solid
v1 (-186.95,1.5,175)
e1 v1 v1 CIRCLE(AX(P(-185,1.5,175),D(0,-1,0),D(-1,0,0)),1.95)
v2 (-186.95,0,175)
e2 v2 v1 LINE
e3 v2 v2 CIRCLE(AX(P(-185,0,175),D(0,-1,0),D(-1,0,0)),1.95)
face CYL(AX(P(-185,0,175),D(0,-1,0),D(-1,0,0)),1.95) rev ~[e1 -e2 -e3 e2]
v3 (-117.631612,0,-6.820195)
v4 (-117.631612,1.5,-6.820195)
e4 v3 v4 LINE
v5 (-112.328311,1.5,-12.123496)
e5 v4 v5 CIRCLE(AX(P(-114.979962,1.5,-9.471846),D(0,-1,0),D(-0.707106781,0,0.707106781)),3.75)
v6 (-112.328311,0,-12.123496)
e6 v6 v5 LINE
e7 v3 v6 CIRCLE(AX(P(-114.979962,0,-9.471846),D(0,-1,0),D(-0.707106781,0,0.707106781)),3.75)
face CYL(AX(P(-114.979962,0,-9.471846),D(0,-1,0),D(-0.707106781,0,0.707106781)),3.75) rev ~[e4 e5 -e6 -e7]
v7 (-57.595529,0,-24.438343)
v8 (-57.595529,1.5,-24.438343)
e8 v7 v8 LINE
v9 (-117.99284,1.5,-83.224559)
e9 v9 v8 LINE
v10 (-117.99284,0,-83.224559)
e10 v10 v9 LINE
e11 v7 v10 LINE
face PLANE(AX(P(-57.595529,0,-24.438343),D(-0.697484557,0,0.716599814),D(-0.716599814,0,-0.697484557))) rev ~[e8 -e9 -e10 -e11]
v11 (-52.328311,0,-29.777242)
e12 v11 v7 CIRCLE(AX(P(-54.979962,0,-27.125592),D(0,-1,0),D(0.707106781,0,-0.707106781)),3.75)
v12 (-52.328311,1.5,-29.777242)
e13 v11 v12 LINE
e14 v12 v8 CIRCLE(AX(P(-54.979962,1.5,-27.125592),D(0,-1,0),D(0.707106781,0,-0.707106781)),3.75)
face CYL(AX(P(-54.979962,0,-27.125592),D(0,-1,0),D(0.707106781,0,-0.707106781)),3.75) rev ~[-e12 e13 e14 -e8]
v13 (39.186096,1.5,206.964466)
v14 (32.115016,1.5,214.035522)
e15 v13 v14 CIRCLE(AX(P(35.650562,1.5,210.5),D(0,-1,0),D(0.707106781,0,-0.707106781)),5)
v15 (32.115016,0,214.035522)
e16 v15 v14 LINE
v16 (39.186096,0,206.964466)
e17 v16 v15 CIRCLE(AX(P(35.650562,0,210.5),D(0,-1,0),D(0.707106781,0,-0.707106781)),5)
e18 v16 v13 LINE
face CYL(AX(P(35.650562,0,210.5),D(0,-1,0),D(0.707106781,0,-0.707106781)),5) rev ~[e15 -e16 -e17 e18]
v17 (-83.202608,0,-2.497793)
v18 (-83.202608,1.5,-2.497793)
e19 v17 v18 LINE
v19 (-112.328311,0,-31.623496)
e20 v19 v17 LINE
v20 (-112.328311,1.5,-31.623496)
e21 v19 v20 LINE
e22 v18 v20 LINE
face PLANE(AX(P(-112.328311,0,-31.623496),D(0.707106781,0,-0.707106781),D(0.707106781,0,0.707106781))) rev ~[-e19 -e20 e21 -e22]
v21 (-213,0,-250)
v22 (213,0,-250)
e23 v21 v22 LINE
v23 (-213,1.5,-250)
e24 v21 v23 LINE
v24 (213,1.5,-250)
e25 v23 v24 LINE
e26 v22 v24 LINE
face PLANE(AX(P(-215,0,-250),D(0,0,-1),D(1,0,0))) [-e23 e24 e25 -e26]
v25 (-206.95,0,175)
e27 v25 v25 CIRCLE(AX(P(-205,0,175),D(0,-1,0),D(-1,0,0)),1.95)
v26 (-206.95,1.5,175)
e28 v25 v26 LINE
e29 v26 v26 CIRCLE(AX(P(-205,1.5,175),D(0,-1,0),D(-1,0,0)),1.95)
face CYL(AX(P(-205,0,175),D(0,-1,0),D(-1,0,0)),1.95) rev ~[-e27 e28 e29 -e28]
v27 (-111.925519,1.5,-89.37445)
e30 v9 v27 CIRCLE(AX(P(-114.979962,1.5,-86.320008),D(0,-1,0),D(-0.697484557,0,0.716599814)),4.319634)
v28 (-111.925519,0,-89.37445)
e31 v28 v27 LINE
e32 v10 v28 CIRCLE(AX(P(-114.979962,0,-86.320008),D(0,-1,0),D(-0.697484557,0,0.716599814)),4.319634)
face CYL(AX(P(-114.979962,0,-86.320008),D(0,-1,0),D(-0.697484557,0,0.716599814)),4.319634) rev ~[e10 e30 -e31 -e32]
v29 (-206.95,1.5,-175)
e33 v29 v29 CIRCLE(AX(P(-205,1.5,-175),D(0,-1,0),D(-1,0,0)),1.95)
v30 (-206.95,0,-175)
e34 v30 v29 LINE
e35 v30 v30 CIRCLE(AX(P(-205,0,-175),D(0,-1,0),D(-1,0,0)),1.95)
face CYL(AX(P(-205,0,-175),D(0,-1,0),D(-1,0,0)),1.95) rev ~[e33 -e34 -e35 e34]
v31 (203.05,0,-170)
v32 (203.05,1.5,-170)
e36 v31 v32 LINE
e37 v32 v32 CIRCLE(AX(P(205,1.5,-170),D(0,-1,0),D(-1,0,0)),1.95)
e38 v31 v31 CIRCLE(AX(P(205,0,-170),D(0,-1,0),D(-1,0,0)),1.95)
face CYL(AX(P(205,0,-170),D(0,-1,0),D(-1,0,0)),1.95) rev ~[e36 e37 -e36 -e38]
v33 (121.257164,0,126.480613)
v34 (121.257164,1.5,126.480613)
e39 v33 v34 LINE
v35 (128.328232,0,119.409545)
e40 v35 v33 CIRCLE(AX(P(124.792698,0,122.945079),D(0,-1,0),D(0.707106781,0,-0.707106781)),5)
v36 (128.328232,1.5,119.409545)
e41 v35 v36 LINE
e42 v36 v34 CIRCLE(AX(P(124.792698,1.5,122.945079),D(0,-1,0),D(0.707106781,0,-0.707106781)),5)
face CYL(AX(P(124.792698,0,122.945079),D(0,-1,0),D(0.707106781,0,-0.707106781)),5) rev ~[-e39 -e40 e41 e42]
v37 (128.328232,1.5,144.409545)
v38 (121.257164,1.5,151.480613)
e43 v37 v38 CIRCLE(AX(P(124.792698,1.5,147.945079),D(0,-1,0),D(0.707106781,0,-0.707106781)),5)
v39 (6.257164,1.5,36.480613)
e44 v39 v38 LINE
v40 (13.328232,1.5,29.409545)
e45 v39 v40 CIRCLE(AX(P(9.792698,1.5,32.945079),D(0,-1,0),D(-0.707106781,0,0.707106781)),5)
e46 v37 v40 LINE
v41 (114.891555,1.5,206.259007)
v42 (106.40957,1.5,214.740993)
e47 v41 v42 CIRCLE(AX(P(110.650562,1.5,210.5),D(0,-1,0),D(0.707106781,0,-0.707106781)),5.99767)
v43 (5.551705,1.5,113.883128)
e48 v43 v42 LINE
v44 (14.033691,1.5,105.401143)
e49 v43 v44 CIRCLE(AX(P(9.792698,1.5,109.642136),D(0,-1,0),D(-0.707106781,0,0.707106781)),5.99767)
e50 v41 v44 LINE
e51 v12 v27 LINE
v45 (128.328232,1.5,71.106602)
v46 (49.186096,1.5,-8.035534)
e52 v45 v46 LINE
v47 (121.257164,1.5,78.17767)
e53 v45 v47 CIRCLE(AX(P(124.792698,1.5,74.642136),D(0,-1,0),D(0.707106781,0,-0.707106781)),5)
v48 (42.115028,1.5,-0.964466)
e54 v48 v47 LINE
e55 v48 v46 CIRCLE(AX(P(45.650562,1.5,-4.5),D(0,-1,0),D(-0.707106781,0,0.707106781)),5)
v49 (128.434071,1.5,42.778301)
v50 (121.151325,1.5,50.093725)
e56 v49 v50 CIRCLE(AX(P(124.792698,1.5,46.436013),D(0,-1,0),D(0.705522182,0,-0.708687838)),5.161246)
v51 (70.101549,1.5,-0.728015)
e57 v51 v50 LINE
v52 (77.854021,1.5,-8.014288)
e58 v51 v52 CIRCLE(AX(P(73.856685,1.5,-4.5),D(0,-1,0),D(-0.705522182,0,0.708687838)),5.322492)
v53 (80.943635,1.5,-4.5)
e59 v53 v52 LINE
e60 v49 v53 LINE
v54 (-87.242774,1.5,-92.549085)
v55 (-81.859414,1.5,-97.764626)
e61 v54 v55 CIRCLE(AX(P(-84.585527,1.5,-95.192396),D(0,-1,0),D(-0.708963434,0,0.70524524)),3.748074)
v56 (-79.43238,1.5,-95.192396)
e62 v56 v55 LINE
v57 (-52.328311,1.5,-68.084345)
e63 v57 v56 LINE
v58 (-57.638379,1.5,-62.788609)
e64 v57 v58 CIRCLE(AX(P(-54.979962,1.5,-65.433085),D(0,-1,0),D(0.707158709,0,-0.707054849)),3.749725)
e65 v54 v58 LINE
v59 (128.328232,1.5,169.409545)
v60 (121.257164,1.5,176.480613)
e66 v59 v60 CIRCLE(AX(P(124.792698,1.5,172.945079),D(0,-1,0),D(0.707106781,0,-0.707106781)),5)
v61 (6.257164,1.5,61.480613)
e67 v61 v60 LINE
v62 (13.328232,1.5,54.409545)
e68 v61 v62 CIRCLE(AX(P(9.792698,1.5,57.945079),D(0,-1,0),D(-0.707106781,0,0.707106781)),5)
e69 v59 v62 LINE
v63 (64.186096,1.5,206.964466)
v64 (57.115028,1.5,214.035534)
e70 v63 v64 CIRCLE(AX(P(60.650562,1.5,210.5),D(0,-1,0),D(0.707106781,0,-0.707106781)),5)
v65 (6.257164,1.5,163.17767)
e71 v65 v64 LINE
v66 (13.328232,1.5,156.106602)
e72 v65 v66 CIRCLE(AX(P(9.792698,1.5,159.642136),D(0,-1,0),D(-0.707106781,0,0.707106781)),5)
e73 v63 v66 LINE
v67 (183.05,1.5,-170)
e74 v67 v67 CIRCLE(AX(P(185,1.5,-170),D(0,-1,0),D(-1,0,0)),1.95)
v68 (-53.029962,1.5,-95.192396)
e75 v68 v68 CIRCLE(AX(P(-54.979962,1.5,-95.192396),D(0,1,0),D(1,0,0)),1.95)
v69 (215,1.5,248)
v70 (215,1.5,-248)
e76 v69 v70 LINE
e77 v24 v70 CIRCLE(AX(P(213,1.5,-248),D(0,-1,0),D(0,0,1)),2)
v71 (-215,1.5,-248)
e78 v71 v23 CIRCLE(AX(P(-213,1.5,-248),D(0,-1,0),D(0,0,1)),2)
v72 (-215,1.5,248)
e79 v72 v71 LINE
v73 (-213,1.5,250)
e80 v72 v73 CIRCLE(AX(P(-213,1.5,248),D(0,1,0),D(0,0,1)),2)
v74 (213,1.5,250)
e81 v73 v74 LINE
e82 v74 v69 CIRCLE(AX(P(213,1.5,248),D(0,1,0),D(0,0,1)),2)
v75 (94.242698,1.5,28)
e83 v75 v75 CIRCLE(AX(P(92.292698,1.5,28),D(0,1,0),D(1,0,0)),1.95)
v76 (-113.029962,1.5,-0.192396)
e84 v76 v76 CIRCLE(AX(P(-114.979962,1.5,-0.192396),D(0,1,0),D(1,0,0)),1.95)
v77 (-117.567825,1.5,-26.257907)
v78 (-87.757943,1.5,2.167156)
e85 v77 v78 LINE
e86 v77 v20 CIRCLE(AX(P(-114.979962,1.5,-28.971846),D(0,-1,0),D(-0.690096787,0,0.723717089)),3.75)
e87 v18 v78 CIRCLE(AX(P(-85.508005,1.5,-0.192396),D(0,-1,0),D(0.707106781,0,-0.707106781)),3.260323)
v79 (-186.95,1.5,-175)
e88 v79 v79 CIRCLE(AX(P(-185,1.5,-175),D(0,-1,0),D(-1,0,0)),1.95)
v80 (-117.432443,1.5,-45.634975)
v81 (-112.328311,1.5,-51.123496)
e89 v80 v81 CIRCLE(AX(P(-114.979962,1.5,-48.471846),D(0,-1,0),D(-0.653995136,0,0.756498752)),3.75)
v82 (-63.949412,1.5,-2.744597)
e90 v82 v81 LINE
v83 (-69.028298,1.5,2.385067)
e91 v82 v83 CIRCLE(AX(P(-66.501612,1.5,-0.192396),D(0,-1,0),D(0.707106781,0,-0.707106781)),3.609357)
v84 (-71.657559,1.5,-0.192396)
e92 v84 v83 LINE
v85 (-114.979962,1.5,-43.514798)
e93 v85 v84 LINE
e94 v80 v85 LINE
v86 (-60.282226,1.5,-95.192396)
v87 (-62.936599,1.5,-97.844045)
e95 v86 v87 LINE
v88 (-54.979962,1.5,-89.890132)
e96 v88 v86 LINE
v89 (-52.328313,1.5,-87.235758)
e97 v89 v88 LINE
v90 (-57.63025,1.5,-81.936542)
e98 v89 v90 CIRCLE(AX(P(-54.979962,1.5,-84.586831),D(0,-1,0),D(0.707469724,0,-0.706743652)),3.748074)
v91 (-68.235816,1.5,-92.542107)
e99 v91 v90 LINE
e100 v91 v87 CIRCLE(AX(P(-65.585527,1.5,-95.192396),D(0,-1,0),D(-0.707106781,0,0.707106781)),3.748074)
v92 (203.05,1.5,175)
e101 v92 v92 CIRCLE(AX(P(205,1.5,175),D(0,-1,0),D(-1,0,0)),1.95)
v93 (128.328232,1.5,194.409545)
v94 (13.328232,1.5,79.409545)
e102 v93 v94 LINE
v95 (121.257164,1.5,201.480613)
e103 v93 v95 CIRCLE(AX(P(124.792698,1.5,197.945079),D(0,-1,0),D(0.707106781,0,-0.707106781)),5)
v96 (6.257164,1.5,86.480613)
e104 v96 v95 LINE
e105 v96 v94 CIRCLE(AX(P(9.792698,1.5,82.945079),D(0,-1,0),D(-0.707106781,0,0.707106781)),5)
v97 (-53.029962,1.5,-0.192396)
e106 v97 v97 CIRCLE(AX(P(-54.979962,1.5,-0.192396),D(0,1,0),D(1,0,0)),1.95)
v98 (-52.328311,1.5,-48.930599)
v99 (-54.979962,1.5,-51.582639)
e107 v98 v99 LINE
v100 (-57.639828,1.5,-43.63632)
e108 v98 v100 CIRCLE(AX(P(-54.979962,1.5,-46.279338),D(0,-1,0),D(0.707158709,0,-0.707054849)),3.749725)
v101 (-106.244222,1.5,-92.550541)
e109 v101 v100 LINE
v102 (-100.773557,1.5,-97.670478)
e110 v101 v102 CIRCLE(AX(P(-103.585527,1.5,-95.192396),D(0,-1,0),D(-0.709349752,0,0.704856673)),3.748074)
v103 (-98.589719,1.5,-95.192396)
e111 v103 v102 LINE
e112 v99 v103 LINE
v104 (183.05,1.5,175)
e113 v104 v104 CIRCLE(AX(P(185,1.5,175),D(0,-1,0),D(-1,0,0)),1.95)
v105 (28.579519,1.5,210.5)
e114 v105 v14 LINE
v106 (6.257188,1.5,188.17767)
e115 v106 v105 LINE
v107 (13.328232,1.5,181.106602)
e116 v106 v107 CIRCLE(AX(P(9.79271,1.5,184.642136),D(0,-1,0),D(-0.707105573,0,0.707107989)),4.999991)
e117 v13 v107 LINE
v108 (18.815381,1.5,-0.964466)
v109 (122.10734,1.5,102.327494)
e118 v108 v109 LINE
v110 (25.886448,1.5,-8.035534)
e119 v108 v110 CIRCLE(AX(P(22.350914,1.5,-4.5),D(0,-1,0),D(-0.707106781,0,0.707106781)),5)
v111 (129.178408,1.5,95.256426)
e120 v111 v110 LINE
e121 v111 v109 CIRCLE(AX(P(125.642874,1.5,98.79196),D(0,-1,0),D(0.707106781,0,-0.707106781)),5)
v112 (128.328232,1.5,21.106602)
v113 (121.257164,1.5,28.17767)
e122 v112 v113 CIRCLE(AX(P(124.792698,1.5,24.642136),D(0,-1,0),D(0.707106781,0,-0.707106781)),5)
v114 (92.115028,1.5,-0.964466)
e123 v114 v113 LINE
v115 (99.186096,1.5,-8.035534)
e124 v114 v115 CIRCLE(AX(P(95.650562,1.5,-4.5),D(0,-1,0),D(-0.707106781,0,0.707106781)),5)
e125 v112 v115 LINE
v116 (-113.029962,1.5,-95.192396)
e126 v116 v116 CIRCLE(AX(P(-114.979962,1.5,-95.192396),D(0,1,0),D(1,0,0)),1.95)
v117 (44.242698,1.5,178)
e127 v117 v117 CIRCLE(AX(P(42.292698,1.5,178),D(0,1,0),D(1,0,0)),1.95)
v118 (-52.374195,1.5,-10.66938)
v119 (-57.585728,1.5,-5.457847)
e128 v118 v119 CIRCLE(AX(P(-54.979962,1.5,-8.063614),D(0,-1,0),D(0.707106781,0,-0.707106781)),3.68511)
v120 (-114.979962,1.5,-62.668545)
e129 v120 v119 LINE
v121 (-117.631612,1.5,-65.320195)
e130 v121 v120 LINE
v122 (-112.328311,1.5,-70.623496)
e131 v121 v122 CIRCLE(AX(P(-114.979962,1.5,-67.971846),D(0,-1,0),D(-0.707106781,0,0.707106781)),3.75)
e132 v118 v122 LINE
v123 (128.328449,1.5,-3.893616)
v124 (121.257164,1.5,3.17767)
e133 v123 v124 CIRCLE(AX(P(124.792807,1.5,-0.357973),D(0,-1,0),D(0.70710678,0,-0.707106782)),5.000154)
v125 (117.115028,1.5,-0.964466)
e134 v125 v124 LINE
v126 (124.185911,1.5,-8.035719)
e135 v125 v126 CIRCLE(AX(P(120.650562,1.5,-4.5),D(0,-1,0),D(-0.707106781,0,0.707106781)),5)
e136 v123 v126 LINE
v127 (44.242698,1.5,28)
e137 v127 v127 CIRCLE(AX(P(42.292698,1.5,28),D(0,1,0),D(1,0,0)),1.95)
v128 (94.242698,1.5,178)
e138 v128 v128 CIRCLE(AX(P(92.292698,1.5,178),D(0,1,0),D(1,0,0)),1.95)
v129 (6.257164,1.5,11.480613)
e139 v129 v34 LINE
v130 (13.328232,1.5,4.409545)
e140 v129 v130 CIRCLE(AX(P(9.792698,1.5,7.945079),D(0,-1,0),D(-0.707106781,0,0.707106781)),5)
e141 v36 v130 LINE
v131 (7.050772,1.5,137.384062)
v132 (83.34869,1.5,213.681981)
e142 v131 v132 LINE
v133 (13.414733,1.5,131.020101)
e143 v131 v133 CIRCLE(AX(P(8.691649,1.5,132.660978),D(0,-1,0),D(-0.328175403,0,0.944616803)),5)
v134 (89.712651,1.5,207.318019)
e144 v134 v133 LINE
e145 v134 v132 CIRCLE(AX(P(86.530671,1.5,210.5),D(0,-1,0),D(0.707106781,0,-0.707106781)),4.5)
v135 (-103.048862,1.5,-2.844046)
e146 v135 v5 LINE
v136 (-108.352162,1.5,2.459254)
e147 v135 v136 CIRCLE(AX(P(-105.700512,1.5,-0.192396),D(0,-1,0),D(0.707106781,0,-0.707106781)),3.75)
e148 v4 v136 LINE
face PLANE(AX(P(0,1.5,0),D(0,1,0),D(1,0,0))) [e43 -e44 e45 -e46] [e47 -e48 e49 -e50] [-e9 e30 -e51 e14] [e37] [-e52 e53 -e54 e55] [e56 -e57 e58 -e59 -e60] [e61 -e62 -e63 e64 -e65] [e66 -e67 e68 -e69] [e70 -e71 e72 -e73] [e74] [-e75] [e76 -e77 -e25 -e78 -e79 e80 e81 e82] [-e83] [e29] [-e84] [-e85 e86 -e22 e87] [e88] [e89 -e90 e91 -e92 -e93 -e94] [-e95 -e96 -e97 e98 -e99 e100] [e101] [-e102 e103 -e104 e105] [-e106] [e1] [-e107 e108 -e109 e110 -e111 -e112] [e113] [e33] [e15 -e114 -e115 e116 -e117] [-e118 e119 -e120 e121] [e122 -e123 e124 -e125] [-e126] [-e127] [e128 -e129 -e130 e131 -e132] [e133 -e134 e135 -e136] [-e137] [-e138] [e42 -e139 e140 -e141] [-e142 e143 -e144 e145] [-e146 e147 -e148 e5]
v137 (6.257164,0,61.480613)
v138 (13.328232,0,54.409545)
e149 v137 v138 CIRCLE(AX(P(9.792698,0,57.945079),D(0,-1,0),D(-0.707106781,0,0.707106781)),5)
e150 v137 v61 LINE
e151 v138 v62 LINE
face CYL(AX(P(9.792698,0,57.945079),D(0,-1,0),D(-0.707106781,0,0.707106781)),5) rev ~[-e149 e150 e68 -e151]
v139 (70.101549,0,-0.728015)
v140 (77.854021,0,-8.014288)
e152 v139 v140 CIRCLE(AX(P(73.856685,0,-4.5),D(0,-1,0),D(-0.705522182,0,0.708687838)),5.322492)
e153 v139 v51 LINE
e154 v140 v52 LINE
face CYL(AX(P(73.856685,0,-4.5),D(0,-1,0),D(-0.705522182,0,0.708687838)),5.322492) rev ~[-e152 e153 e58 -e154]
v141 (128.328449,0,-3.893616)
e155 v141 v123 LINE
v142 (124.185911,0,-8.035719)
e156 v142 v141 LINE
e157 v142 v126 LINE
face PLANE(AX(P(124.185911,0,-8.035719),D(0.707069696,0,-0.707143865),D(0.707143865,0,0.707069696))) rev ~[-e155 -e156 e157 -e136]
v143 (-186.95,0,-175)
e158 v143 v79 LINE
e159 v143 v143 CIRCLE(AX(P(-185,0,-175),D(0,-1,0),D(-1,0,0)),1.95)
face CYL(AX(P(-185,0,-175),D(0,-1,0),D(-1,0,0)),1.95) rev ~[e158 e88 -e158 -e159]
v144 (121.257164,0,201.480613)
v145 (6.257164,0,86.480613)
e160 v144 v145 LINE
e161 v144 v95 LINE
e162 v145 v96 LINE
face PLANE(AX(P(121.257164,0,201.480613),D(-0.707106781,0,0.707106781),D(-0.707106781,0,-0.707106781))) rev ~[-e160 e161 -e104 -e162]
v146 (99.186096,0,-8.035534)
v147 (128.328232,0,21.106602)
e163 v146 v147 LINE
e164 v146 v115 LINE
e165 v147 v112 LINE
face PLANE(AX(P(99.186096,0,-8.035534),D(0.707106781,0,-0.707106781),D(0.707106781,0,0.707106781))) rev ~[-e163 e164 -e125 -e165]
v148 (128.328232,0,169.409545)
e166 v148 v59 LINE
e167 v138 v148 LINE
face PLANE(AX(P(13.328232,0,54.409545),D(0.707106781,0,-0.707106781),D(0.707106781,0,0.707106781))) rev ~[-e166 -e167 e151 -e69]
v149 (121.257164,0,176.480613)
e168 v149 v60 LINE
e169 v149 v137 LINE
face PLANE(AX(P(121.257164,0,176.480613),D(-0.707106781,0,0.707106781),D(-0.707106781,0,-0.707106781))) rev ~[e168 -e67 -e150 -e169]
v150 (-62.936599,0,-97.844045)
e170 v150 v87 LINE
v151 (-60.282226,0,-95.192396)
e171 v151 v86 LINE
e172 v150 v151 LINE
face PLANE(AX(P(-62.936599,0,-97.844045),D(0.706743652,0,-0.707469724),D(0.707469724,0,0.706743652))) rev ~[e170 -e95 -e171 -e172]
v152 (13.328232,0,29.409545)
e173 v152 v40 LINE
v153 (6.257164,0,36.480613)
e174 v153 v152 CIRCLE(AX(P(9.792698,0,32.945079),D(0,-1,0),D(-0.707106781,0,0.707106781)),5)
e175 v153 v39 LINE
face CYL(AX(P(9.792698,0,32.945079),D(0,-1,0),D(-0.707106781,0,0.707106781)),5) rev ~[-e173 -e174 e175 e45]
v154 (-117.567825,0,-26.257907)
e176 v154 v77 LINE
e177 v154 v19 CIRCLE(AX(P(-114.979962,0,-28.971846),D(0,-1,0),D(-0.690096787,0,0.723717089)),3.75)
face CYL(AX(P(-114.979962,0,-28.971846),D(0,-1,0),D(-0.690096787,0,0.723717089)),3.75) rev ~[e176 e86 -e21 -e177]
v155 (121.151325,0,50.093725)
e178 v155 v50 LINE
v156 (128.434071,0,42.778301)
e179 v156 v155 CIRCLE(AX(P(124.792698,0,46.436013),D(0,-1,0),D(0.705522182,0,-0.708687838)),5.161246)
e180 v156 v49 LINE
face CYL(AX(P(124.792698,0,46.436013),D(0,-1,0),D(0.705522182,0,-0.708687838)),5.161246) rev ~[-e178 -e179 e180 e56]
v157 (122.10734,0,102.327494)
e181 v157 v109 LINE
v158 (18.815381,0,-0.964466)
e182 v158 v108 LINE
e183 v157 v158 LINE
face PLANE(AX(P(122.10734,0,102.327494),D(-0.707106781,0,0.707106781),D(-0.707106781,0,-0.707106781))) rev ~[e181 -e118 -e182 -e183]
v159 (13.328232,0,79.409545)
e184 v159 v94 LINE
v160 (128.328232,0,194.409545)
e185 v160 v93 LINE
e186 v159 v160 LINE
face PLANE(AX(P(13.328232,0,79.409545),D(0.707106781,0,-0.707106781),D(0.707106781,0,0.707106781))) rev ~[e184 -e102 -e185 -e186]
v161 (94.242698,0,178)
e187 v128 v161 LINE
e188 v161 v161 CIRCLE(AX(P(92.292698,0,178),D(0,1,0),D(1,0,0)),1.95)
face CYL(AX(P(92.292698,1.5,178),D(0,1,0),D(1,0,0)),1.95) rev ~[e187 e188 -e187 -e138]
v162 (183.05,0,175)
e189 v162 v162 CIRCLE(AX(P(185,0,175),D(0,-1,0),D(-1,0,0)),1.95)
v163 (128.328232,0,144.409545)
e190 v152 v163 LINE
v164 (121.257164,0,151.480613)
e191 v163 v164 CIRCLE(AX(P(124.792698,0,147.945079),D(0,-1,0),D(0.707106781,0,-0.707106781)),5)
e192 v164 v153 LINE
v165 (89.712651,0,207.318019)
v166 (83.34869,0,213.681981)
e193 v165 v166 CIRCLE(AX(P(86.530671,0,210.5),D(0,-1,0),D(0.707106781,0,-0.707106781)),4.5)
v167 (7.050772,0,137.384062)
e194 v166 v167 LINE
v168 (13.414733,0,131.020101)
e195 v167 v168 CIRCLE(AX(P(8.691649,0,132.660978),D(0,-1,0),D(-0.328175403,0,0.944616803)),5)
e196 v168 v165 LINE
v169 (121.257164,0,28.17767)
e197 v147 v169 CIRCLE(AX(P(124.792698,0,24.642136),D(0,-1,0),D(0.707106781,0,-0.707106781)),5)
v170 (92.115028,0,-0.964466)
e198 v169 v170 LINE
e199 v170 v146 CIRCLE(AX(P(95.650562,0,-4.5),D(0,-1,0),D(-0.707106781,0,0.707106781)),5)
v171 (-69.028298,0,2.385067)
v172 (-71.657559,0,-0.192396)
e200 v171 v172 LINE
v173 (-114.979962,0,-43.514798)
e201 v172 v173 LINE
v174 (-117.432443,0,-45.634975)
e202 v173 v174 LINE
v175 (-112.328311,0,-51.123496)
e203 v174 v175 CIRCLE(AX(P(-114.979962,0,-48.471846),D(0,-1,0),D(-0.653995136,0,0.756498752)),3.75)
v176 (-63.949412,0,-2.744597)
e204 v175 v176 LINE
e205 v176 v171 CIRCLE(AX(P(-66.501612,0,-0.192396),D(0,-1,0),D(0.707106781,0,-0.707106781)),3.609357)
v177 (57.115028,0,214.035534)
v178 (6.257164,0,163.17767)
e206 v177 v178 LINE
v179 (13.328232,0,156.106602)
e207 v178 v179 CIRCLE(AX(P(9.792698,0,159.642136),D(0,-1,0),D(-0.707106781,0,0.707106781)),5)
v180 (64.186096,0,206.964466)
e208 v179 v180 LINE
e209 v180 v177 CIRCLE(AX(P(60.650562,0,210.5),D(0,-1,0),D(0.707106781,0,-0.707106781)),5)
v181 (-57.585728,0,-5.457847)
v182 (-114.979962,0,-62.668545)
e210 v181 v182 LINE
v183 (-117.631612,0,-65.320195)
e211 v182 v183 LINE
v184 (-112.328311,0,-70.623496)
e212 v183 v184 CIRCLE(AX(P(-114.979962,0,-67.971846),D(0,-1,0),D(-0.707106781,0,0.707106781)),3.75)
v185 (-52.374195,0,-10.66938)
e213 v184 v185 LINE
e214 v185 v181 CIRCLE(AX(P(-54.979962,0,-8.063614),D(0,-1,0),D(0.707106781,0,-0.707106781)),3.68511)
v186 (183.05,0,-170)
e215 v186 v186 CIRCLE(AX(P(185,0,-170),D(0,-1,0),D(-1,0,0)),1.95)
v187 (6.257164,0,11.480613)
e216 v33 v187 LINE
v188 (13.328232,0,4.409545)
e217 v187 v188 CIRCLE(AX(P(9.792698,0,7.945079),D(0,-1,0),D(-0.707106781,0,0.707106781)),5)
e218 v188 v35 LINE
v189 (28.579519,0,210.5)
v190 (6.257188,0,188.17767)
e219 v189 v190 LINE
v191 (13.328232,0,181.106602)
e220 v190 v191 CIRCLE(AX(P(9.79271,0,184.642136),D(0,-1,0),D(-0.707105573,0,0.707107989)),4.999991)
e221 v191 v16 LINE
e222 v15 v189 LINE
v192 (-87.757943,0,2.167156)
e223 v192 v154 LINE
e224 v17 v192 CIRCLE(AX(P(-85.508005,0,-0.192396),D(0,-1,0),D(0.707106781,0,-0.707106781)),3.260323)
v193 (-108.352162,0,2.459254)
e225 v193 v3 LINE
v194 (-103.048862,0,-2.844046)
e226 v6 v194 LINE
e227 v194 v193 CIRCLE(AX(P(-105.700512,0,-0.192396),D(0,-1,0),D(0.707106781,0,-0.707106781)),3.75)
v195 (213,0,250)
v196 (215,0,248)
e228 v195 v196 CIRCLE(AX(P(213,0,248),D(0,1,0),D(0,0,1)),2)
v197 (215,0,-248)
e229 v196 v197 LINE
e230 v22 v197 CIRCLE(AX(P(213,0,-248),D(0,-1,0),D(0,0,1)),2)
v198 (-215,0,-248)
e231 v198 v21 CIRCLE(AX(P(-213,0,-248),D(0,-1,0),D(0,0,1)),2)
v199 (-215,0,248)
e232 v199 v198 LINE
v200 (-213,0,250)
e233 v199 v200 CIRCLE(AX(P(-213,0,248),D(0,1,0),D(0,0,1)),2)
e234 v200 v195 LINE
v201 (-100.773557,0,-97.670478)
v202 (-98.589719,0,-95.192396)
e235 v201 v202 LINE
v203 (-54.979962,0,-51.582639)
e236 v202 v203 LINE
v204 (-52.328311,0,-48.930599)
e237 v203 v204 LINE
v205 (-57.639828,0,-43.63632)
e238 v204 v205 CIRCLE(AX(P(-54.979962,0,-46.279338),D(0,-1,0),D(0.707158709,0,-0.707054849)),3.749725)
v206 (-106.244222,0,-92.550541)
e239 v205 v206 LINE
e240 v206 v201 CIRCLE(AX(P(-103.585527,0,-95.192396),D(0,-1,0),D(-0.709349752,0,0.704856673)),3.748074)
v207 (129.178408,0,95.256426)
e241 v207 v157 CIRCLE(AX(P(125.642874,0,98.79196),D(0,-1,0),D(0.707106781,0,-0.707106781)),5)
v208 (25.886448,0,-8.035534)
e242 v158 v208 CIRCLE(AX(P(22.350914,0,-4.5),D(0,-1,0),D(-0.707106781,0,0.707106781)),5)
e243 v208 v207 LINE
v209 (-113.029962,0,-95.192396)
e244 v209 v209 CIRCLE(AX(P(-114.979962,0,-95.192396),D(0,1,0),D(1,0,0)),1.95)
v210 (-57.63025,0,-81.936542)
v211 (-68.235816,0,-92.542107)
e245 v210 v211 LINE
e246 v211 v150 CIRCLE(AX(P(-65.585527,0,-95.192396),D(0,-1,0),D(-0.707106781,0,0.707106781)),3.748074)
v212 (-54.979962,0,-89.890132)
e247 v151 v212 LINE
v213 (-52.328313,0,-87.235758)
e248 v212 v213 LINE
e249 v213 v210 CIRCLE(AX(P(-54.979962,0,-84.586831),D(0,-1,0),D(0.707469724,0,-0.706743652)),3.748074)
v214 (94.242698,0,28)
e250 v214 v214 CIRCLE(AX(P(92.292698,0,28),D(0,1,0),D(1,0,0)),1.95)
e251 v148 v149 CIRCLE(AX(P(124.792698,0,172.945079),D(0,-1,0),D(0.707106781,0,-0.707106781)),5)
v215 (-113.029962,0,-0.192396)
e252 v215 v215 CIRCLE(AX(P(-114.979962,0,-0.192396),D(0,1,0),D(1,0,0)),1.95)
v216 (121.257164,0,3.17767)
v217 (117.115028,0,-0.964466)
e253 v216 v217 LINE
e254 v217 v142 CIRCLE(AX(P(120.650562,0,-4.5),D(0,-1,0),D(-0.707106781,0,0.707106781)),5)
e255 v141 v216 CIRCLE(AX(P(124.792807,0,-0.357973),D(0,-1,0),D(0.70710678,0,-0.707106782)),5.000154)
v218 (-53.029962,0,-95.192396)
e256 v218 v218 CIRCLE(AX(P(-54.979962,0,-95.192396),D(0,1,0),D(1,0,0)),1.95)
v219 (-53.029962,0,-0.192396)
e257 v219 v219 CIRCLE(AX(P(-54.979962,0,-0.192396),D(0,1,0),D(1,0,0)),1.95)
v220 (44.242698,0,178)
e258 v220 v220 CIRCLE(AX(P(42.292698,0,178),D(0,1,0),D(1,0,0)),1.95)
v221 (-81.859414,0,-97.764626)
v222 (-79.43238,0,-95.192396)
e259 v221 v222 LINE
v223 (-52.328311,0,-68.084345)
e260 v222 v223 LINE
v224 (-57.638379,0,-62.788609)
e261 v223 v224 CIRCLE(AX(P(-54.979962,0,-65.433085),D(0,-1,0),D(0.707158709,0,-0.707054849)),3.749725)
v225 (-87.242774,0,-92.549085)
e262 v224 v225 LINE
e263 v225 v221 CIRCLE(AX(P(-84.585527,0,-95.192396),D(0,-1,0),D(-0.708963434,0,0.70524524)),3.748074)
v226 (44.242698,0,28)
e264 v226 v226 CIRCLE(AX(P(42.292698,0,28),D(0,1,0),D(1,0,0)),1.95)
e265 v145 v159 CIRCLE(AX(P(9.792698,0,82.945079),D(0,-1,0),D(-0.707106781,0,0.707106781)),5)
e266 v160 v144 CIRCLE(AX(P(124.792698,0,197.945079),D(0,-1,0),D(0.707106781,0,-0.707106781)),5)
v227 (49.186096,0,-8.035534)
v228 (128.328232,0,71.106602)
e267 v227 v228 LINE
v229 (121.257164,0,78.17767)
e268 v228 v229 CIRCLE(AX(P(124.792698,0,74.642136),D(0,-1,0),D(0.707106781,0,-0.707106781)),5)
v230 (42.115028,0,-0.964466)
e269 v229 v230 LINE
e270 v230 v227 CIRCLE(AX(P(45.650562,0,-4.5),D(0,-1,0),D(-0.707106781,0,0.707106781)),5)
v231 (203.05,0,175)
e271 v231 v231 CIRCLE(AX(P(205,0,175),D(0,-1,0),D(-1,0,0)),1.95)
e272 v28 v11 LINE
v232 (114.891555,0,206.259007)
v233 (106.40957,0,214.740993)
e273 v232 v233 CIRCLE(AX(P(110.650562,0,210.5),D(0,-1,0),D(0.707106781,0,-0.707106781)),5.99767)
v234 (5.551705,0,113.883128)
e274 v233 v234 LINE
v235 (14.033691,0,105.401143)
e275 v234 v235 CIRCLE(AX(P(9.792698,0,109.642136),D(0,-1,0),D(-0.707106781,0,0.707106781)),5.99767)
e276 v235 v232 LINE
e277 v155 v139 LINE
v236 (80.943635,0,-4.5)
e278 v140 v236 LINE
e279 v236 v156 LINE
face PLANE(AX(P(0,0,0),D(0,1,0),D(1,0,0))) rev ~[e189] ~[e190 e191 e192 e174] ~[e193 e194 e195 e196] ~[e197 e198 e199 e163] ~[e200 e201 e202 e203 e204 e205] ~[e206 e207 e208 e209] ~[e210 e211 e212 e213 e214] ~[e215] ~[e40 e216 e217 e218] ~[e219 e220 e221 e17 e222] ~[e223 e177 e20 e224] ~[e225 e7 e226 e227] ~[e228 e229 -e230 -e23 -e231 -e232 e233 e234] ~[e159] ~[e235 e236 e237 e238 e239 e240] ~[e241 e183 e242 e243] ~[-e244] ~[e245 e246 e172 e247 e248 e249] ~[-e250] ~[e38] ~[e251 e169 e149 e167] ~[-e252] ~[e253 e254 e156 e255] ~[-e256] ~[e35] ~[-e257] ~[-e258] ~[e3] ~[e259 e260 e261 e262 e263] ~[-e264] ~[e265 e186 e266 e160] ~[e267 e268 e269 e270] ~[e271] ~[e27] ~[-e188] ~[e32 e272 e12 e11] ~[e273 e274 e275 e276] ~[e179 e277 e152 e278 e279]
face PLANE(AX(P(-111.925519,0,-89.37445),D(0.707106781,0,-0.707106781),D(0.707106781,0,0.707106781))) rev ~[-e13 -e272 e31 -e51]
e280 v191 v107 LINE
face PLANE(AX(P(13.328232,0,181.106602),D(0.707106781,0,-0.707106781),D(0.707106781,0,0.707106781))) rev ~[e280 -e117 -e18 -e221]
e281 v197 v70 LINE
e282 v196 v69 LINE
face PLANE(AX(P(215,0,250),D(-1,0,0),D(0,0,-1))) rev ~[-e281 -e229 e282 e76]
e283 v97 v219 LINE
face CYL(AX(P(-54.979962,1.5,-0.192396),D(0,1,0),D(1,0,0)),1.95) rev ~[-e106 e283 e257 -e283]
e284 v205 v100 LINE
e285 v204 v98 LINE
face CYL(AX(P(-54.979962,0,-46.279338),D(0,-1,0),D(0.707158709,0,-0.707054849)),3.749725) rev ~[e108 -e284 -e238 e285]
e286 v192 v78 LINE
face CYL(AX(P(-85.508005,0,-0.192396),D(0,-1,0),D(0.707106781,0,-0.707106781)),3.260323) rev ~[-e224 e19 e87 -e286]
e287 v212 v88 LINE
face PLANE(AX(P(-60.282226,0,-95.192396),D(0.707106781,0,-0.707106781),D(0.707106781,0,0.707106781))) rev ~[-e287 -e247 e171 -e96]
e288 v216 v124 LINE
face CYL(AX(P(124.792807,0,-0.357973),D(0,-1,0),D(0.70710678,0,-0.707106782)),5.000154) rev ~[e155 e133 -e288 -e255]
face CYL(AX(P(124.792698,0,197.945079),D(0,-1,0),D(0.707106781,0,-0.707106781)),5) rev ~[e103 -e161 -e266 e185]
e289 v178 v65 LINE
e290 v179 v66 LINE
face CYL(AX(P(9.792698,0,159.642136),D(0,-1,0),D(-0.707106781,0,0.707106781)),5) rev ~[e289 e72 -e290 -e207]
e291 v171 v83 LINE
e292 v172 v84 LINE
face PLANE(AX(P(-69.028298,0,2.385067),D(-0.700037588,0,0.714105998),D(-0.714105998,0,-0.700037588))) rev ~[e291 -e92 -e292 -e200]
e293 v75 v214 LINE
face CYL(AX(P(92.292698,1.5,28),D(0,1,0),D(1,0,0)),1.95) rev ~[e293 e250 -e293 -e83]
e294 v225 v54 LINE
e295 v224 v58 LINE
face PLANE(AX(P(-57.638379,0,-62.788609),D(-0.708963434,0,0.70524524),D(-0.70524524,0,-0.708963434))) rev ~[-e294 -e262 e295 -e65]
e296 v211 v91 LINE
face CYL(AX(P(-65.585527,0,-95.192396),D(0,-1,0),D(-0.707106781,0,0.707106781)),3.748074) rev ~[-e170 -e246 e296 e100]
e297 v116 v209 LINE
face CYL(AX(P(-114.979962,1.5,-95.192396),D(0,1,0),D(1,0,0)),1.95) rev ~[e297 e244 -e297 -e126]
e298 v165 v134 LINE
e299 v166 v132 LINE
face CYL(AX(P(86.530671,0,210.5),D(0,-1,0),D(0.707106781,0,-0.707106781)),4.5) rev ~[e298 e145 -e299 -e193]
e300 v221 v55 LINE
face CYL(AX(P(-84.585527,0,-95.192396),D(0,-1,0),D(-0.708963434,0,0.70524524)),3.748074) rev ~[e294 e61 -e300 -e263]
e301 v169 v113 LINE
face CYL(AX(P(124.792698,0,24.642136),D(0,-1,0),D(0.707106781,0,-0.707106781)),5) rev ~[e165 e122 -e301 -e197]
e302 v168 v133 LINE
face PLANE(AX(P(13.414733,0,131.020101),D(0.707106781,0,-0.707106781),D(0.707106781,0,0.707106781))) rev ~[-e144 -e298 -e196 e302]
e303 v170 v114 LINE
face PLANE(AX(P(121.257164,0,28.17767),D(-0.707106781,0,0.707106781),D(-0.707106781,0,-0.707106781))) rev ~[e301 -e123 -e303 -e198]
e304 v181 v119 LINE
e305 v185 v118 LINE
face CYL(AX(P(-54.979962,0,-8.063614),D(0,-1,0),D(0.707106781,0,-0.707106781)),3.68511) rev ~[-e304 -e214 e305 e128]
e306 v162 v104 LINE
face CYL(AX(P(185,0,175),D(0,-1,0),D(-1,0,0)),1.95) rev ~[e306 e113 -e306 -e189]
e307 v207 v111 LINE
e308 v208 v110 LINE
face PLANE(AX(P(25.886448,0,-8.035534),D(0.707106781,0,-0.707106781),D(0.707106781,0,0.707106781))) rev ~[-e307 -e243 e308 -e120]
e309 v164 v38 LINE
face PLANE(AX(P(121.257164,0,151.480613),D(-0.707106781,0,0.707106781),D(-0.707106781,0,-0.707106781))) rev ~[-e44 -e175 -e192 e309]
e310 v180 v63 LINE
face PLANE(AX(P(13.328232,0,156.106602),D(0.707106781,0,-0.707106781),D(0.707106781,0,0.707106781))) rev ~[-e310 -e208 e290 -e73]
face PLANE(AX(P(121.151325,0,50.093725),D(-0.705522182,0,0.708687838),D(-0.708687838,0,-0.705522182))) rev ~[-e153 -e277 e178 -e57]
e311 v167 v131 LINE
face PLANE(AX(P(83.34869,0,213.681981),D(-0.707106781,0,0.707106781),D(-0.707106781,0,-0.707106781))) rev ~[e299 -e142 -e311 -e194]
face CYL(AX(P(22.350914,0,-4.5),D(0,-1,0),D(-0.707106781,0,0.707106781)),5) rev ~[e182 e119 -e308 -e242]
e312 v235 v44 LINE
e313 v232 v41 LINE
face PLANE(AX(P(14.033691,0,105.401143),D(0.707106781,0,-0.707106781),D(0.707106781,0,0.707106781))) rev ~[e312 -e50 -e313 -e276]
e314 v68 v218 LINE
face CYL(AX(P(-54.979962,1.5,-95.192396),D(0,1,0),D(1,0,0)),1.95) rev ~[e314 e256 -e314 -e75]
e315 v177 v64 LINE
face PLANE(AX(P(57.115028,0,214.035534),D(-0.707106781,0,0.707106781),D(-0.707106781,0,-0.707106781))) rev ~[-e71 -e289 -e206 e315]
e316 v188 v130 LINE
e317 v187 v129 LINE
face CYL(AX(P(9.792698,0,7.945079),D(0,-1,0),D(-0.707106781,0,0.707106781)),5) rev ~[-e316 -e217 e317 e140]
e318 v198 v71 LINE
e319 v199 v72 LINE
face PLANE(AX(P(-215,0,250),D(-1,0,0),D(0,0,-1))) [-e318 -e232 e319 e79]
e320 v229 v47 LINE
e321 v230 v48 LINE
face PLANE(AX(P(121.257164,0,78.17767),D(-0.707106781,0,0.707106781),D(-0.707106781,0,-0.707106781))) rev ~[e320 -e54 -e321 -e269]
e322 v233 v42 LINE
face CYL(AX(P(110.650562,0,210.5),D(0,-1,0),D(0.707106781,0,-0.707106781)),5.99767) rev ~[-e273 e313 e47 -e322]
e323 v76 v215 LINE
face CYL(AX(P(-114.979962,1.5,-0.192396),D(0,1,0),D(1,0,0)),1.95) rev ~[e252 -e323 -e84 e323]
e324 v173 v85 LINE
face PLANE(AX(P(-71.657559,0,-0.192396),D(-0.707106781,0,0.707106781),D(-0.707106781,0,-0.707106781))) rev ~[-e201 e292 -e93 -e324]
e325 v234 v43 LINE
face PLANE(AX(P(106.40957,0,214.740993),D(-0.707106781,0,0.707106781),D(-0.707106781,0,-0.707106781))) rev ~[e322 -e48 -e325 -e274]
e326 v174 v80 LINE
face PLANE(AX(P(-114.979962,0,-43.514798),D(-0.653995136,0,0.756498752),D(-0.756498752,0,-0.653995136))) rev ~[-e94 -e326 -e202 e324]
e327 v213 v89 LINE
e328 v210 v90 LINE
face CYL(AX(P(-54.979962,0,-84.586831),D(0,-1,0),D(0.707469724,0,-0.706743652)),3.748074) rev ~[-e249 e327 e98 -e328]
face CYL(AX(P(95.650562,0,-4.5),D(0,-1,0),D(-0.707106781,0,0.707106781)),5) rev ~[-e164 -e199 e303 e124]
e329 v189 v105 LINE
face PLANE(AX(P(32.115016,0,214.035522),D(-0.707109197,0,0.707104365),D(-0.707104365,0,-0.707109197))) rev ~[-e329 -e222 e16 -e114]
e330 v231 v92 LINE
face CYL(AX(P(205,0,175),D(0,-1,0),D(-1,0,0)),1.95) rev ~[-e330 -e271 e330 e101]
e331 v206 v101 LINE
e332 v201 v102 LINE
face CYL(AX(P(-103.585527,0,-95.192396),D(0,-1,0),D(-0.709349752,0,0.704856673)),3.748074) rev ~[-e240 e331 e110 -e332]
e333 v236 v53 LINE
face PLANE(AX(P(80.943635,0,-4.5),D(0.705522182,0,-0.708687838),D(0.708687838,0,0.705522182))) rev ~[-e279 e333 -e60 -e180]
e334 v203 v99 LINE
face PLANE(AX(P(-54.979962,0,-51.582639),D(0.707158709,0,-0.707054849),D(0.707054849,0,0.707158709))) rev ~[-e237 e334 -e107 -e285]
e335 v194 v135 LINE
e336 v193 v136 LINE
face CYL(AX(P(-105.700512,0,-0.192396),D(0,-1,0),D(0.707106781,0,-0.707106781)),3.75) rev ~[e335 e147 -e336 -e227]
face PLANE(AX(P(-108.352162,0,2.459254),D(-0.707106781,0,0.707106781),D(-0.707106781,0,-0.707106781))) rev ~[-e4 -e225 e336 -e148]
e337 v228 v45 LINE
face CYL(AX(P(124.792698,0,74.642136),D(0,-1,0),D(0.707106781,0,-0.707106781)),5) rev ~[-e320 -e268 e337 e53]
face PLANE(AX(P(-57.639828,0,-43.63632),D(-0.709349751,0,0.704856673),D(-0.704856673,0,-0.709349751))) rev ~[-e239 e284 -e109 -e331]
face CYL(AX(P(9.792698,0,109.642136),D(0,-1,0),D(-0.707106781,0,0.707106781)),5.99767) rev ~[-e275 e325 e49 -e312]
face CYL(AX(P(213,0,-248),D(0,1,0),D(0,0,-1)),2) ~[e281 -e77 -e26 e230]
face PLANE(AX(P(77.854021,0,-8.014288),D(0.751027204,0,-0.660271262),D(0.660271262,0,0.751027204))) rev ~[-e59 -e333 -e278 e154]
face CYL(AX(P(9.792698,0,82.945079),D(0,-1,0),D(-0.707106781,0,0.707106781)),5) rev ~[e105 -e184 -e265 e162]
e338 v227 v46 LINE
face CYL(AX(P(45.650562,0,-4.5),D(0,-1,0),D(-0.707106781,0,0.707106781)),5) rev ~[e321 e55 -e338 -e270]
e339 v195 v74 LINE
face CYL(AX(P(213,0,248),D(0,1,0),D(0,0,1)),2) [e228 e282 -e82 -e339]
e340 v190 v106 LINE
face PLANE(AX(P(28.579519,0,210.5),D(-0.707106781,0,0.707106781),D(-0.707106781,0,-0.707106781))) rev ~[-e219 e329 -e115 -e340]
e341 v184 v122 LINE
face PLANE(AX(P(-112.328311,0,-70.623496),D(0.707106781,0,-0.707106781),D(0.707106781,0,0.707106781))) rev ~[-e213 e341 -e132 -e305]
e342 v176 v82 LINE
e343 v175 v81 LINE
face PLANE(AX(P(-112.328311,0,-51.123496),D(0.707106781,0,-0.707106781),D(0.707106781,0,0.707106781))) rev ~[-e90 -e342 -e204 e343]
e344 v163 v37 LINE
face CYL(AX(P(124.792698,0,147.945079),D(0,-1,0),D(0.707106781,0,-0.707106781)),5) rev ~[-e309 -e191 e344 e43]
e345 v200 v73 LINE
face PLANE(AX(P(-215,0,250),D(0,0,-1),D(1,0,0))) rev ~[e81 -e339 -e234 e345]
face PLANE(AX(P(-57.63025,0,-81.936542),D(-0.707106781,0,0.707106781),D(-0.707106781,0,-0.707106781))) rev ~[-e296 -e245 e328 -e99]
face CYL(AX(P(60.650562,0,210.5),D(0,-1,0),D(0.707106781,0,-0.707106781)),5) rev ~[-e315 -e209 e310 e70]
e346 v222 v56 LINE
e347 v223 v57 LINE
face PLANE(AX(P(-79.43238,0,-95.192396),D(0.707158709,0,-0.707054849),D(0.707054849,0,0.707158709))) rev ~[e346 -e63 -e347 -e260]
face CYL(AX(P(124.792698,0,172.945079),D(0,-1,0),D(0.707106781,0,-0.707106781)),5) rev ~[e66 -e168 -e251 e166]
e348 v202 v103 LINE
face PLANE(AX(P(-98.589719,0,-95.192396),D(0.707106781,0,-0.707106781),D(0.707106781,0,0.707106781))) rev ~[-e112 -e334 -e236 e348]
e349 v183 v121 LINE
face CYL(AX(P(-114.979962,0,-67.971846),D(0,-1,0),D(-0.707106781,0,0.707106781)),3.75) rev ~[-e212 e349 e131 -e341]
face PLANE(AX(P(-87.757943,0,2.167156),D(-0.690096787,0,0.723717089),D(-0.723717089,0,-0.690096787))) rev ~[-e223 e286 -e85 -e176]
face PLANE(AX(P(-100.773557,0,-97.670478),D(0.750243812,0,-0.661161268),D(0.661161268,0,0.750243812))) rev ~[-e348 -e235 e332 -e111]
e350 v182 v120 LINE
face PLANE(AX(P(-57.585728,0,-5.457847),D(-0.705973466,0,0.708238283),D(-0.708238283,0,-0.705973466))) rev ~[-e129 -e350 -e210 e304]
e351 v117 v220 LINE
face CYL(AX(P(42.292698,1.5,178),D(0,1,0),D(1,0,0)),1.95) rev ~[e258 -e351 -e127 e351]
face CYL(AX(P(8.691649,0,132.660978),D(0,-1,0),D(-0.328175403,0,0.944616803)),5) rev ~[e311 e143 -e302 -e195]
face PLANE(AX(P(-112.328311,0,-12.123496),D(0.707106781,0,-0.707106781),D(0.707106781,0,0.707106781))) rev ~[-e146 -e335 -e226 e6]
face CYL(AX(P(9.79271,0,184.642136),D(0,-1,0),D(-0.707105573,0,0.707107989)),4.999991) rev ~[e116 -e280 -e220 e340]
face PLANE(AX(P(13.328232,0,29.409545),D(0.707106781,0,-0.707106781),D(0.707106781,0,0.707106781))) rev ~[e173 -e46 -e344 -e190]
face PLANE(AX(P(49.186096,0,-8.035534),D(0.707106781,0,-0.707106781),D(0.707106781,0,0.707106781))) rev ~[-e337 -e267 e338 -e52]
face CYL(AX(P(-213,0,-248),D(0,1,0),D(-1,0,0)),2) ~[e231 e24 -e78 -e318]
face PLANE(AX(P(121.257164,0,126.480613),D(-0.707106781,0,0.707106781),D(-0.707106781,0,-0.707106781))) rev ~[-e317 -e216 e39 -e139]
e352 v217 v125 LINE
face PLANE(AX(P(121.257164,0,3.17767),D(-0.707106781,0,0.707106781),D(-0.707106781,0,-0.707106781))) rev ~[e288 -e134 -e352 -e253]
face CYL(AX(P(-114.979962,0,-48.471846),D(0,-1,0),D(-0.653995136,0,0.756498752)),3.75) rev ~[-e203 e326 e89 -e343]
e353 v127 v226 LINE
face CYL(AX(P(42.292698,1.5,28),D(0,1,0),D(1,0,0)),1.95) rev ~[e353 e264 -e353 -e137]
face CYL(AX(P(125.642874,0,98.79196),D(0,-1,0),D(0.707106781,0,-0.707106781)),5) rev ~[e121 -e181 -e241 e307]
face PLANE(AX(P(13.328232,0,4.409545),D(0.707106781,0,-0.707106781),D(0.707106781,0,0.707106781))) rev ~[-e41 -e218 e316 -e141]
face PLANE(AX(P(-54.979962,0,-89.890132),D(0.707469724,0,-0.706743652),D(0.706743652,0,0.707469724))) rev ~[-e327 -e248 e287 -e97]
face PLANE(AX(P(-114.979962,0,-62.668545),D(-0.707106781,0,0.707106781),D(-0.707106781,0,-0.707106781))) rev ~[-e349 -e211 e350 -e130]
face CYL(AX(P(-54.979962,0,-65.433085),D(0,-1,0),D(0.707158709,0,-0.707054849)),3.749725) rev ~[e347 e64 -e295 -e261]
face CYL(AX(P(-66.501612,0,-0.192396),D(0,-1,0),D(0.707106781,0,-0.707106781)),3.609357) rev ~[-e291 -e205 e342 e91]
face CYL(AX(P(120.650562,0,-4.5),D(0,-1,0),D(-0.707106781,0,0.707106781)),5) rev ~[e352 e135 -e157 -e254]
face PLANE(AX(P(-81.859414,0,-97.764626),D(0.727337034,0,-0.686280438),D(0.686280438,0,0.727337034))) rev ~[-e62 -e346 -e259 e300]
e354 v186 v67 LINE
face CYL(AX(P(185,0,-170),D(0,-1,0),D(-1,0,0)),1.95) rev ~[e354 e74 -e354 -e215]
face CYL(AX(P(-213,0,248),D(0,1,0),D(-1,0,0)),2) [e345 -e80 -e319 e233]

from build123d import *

# Parameters (mm, degrees)
SKETCH1_W           = 430
SKETCH1_H           = 500
BOSS_EXTRUDE1_DEPTH = 1.5
SKETCH12_R          = 1.95
CUT_EXTRUDE3_DEPTH  = 50.8
SKETCH6_R           = 1.95
CUT_EXTRUDE4_DEPTH  = 50.8
SKETCH7_R           = 1.95
CUT_EXTRUDE5_DEPTH  = 50.8
FILLET1_R           = 2
CUT_EXTRUDE6_DEPTH  = 10


with BuildPart() as part:
    # Sketch1 → Boss-Extrude1 (new body)
    with BuildSketch(Plane(origin=(0, 0, 0), x_dir=(1, 0, 0), z_dir=(0, 1, 0))):
        Rectangle(SKETCH1_W, SKETCH1_H)
    extrude(amount=BOSS_EXTRUDE1_DEPTH)

    # Sketch12 → Cut-Extrude3 (cut)
    with BuildSketch(Plane(origin=(0, 0, 0), x_dir=(-1, 0, 0), z_dir=(0, -1, 0))):
        with Locations((-185, -175)):
            Circle(SKETCH12_R)
        with Locations((-205, 170)):
            Circle(SKETCH12_R)
        with Locations((-205, -175)):
            Circle(SKETCH12_R)
        with Locations((-185, 170)):
            Circle(SKETCH12_R)
        with Locations((205, -175)):
            Circle(SKETCH12_R)
        with Locations((185, 175)):
            Circle(SKETCH12_R)
        with Locations((205, 175)):
            Circle(SKETCH12_R)
        with Locations((185, -175)):
            Circle(SKETCH12_R)
    extrude(amount=-CUT_EXTRUDE3_DEPTH, mode=Mode.SUBTRACT)

    # Sketch6 → Cut-Extrude4 (cut)
    with BuildSketch(Plane(origin=(0, 1.5, 0), x_dir=(1, 0, 0), z_dir=(0, 1, 0))):
        with Locations((92.292697989, -28)):
            Circle(SKETCH6_R)
        with Locations((42.292697989, -28)):
            Circle(SKETCH6_R)
        with Locations((92.292697989, -178)):
            Circle(SKETCH6_R)
        with Locations((42.292697989, -178)):
            Circle(SKETCH6_R)
    extrude(amount=-CUT_EXTRUDE4_DEPTH, mode=Mode.SUBTRACT)

    # Sketch7 → Cut-Extrude5 (cut)
    with BuildSketch(Plane(origin=(0, 1.5, 0), x_dir=(1, 0, 0), z_dir=(0, 1, 0))):
        with Locations((-114.979961576, 95.192396061)):
            Circle(SKETCH7_R)
        with Locations((-54.979961576, 95.192396061)):
            Circle(SKETCH7_R)
        with Locations((-54.979961576, 0.192396061)):
            Circle(SKETCH7_R)
        with Locations((-114.979961576, 0.192396061)):
            Circle(SKETCH7_R)
    extrude(amount=-CUT_EXTRUDE5_DEPTH, mode=Mode.SUBTRACT)

    # Fillet1
    fillet1_edges = [part.edges().sort_by_distance(p)[0] for p in [
        (215, 0.75, 250),
        (-215, 0.75, 250),
        (-215, 0.75, -250),
        (215, 0.75, -250),
    ]]
    fillet(fillet1_edges, radius=FILLET1_R)

    # Sketch13 → Cut-Extrude6 (cut)
    with BuildSketch(Plane.XZ):
        with BuildLine():
            ThreePointArc((128.328231895, 194.409545443), (128.328231895, 201.480613255), (121.257164083, 201.480613255))
            Line((121.257164083, 201.480613255), (6.257164083, 86.480613255))
            ThreePointArc((6.257164083, 86.480613255), (6.257164083, 79.409545443), (13.328231895, 79.409545443))
            Line((13.328231895, 79.409545443), (128.328231895, 194.409545443))
        make_face()
        with BuildLine():
            ThreePointArc((114.891555161, 206.259007204), (114.891555161, 214.740992796), (106.409569569, 214.740992796))
            Line((106.409569569, 214.740992796), (5.551705193, 113.883128419))
            ThreePointArc((5.551705193, 113.883128419), (5.551705193, 105.401142828), (14.033690785, 105.401142828))
            Line((14.033690785, 105.401142828), (114.891555161, 206.259007204))
        make_face()
        with BuildLine():
            ThreePointArc((128.328231895, 169.409545443), (128.328231895, 176.480613255), (121.257164083, 176.480613255))
            Line((121.257164083, 176.480613255), (6.257164083, 61.480613255))
            ThreePointArc((6.257164083, 61.480613255), (6.257164083, 54.409545443), (13.328231895, 54.409545443))
            Line((13.328231895, 54.409545443), (128.328231895, 169.409545443))
        make_face()
        with BuildLine():
            ThreePointArc((128.328231895, 144.409545443), (128.328231895, 151.480613255), (121.257164083, 151.480613255))
            Line((121.257164083, 151.480613255), (6.257164083, 36.480613255))
            ThreePointArc((6.257164083, 36.480613255), (6.257164083, 29.409545443), (13.328231895, 29.409545443))
            Line((13.328231895, 29.409545443), (128.328231895, 144.409545443))
        make_face()
        with BuildLine():
            ThreePointArc((7.050771569, 137.384062043), (5.156114678, 129.125444121), (13.4147326, 131.020101013))
            Line((13.4147326, 131.020101013), (89.712651072, 207.318019485))
            ThreePointArc((89.712651072, 207.318019485), (89.712651072, 213.681980515), (83.348690041, 213.681980515))
            Line((83.348690041, 213.681980515), (7.050771569, 137.384062043))
        make_face()
        with BuildLine():
            ThreePointArc((128.328231895, 119.409545443), (128.328231895, 126.480613255), (121.257164083, 126.480613255))
            Line((121.257164083, 126.480613255), (6.257164083, 11.480613255))
            ThreePointArc((6.257164083, 11.480613255), (6.257164083, 4.409545443), (13.328231895, 4.409545443))
            Line((13.328231895, 4.409545443), (128.328231895, 119.409545443))
        make_face()
        with BuildLine():
            ThreePointArc((129.178407924, 95.256425689), (129.178407924, 102.327493501), (122.107340112, 102.327493501))
            Line((122.107340112, 102.327493501), (18.815380517, -0.964466094))
            ThreePointArc((18.815380517, -0.964466094), (18.815380517, -8.035533906), (25.886448329, -8.035533906))
            Line((25.886448329, -8.035533906), (129.178407924, 95.256425689))
        make_face()
        with BuildLine():
            ThreePointArc((64.186096271, 206.964466094), (64.186096271, 214.035533906), (57.115028459, 214.035533906))
            Line((57.115028459, 214.035533906), (6.257164083, 163.17766953))
            ThreePointArc((6.257164083, 163.17766953), (6.257164083, 156.106601718), (13.328231895, 156.106601718))
            Line((13.328231895, 156.106601718), (64.186096271, 206.964466094))
        make_face()
        with BuildLine():
            ThreePointArc((128.328231895, 71.106601718), (128.328231895, 78.17766953), (121.257164083, 78.17766953))
            Line((121.257164083, 78.17766953), (42.115028459, -0.964466094))
            ThreePointArc((42.115028459, -0.964466094), (42.115028459, -8.035533906), (49.186096271, -8.035533906))
            Line((49.186096271, -8.035533906), (128.328231895, 71.106601718))
        make_face()
        with BuildLine():
            ThreePointArc((128.434071453, 42.778300689), (128.450410182, 50.077386347), (121.151324524, 50.093725076))
            Line((121.151324524, 50.093725076), (70.101549086, -0.728014801))
            ThreePointArc((70.101549086, -0.728014801), (70.211536159, -8.378376983), (77.854021235, -8.014288369))
            Line((77.854021235, -8.014288369), (80.943634504, -4.5))
            Line((80.943634504, -4.5), (128.434071453, 42.778300689))
        make_face()
        with BuildLine():
            ThreePointArc((39.186096271, 206.964466094), (39.186090231, 214.035539946), (32.11501638, 214.035521827))
            Line((32.11501638, 214.035521827), (28.579518712, 210.5))
            Line((28.579518712, 210.5), (6.257188241, 188.17766953))
            ThreePointArc((6.257188241, 188.17766953), (6.257176162, 181.106613797), (13.328231895, 181.106601718))
            Line((13.328231895, 181.106601718), (39.186096271, 206.964466094))
        make_face()
        with BuildLine():
            ThreePointArc((128.328231895, 21.106601718), (128.328231895, 28.17766953), (121.257164083, 28.17766953))
            Line((121.257164083, 28.17766953), (92.115028459, -0.964466094))
            ThreePointArc((92.115028459, -0.964466094), (92.115028459, -8.035533906), (99.186096271, -8.035533906))
            Line((99.186096271, -8.035533906), (128.328231895, 21.106601718))
        make_face()
        with BuildLine():
            ThreePointArc((128.328449123, -3.893615534), (128.328449135, 3.177669518), (121.257164083, 3.17766953))
            Line((121.257164083, 3.17766953), (117.115028459, -0.964466094))
            ThreePointArc((117.115028459, -0.964466094), (117.11493575, -8.035441194), (124.185910844, -8.035719323))
            Line((124.185910844, -8.035719323), (128.328449123, -3.893615534))
        make_face()
        with BuildLine():
            Line((-60.282225947, -95.192396061), (-54.979961576, -89.89013169))
            Line((-54.979961576, -89.89013169), (-52.328312545, -87.235758493))
            ThreePointArc((-52.328312545, -87.235758493), (-52.33035331, -81.93586188), (-57.630250273, -81.936542135))
            Line((-57.630250273, -81.936542135), (-68.235815502, -92.542107364))
            ThreePointArc((-68.235815502, -92.542107364), (-68.236495757, -97.842004327), (-62.936599144, -97.844045092))
            Line((-62.936599144, -97.844045092), (-60.282225947, -95.192396061))
        make_face()
        with BuildLine():
            Line((-79.432380406, -95.192396061), (-52.328311176, -68.084345475))
            ThreePointArc((-52.328311176, -68.084345475), (-52.332091228, -62.778048343), (-57.638379198, -62.788609103))
            Line((-57.638379198, -62.788609103), (-87.242774375, -92.549084557))
            ThreePointArc((-87.242774375, -92.549084557), (-87.193524879, -97.884311066), (-81.85941362, -97.764626075))
            Line((-81.85941362, -97.764626075), (-79.432380406, -95.192396061))
        make_face()
        with BuildLine():
            Line((-98.589718565, -95.192396061), (-54.979961576, -51.582639071))
            Line((-54.979961576, -51.582639071), (-52.328311176, -48.930599166))
            ThreePointArc((-52.328311176, -48.930599166), (-52.332818712, -43.623576712), (-57.639827781, -43.636319812))
            Line((-57.639827781, -43.636319812), (-106.244222321, -92.550540935))
            ThreePointArc((-106.244222321, -92.550540935), (-106.146641992, -97.928953998), (-100.773557317, -97.670477564))
            Line((-100.773557317, -97.670477564), (-98.589718565, -95.192396061))
        make_face()
        with BuildLine():
            Line((-111.925519092, -89.374450278), (-52.328311147, -29.777242332))
            ThreePointArc((-52.328311147, -29.777242332), (-52.310450744, -24.491922995), (-57.595528665, -24.438342602))
            Line((-57.595528665, -24.438342602), (-117.992839573, -83.224558883))
            ThreePointArc((-117.992839573, -83.224558883), (-118.054977502, -89.353737319), (-111.925519092, -89.374450278))
        make_face()
        with BuildLine():
            Line((-112.328311147, -70.623496023), (-52.374195212, -10.669380088))
            ThreePointArc((-52.374195212, -10.669380088), (-52.374195212, -5.457847361), (-57.58572794, -5.457847361))
            Line((-57.58572794, -5.457847361), (-114.979961576, -62.668544735))
            Line((-114.979961576, -62.668544735), (-117.631612006, -65.320195164))
            ThreePointArc((-117.631612006, -65.320195164), (-117.631612006, -70.623496023), (-112.328311147, -70.623496023))
        make_face()
        with BuildLine():
            Line((-112.328311147, -51.123496023), (-63.949411742, -2.744596618))
            ThreePointArc((-63.949411742, -2.744596618), (-63.936748679, 2.34707829), (-69.028297614, 2.385067165))
            Line((-69.028297614, 2.385067165), (-71.657559216, -0.192396061))
            Line((-71.657559216, -0.192396061), (-114.979961576, -43.514798421))
            Line((-114.979961576, -43.514798421), (-117.432443337, -45.634975273))
            ThreePointArc((-117.432443337, -45.634975273), (-117.726028226, -51.025591461), (-112.328311147, -51.123496023))
        make_face()
        with BuildLine():
            Line((-112.328311147, -31.623496023), (-83.202607923, -2.497792799))
            ThreePointArc((-83.202607923, -2.497792799), (-83.175365618, 2.085432584), (-87.75794332, 2.167155652))
            Line((-87.75794332, 2.167155652), (-117.567824527, -26.25790651))
            ThreePointArc((-117.567824527, -26.25790651), (-117.662945906, -31.591787403), (-112.328311147, -31.623496023))
        make_face()
        with BuildLine():
            Line((-112.328311147, -12.123496023), (-103.048861614, -2.84404649))
            ThreePointArc((-103.048861614, -2.84404649), (-103.048861614, 2.459254369), (-108.352162473, 2.459254369))
            Line((-108.352162473, 2.459254369), (-117.631612006, -6.820195164))
            ThreePointArc((-117.631612006, -6.820195164), (-117.631612006, -12.123496023), (-112.328311147, -12.123496023))
        make_face()
    extrude(amount=-CUT_EXTRUDE6_DEPTH, mode=Mode.SUBTRACT)


solid = part.part
